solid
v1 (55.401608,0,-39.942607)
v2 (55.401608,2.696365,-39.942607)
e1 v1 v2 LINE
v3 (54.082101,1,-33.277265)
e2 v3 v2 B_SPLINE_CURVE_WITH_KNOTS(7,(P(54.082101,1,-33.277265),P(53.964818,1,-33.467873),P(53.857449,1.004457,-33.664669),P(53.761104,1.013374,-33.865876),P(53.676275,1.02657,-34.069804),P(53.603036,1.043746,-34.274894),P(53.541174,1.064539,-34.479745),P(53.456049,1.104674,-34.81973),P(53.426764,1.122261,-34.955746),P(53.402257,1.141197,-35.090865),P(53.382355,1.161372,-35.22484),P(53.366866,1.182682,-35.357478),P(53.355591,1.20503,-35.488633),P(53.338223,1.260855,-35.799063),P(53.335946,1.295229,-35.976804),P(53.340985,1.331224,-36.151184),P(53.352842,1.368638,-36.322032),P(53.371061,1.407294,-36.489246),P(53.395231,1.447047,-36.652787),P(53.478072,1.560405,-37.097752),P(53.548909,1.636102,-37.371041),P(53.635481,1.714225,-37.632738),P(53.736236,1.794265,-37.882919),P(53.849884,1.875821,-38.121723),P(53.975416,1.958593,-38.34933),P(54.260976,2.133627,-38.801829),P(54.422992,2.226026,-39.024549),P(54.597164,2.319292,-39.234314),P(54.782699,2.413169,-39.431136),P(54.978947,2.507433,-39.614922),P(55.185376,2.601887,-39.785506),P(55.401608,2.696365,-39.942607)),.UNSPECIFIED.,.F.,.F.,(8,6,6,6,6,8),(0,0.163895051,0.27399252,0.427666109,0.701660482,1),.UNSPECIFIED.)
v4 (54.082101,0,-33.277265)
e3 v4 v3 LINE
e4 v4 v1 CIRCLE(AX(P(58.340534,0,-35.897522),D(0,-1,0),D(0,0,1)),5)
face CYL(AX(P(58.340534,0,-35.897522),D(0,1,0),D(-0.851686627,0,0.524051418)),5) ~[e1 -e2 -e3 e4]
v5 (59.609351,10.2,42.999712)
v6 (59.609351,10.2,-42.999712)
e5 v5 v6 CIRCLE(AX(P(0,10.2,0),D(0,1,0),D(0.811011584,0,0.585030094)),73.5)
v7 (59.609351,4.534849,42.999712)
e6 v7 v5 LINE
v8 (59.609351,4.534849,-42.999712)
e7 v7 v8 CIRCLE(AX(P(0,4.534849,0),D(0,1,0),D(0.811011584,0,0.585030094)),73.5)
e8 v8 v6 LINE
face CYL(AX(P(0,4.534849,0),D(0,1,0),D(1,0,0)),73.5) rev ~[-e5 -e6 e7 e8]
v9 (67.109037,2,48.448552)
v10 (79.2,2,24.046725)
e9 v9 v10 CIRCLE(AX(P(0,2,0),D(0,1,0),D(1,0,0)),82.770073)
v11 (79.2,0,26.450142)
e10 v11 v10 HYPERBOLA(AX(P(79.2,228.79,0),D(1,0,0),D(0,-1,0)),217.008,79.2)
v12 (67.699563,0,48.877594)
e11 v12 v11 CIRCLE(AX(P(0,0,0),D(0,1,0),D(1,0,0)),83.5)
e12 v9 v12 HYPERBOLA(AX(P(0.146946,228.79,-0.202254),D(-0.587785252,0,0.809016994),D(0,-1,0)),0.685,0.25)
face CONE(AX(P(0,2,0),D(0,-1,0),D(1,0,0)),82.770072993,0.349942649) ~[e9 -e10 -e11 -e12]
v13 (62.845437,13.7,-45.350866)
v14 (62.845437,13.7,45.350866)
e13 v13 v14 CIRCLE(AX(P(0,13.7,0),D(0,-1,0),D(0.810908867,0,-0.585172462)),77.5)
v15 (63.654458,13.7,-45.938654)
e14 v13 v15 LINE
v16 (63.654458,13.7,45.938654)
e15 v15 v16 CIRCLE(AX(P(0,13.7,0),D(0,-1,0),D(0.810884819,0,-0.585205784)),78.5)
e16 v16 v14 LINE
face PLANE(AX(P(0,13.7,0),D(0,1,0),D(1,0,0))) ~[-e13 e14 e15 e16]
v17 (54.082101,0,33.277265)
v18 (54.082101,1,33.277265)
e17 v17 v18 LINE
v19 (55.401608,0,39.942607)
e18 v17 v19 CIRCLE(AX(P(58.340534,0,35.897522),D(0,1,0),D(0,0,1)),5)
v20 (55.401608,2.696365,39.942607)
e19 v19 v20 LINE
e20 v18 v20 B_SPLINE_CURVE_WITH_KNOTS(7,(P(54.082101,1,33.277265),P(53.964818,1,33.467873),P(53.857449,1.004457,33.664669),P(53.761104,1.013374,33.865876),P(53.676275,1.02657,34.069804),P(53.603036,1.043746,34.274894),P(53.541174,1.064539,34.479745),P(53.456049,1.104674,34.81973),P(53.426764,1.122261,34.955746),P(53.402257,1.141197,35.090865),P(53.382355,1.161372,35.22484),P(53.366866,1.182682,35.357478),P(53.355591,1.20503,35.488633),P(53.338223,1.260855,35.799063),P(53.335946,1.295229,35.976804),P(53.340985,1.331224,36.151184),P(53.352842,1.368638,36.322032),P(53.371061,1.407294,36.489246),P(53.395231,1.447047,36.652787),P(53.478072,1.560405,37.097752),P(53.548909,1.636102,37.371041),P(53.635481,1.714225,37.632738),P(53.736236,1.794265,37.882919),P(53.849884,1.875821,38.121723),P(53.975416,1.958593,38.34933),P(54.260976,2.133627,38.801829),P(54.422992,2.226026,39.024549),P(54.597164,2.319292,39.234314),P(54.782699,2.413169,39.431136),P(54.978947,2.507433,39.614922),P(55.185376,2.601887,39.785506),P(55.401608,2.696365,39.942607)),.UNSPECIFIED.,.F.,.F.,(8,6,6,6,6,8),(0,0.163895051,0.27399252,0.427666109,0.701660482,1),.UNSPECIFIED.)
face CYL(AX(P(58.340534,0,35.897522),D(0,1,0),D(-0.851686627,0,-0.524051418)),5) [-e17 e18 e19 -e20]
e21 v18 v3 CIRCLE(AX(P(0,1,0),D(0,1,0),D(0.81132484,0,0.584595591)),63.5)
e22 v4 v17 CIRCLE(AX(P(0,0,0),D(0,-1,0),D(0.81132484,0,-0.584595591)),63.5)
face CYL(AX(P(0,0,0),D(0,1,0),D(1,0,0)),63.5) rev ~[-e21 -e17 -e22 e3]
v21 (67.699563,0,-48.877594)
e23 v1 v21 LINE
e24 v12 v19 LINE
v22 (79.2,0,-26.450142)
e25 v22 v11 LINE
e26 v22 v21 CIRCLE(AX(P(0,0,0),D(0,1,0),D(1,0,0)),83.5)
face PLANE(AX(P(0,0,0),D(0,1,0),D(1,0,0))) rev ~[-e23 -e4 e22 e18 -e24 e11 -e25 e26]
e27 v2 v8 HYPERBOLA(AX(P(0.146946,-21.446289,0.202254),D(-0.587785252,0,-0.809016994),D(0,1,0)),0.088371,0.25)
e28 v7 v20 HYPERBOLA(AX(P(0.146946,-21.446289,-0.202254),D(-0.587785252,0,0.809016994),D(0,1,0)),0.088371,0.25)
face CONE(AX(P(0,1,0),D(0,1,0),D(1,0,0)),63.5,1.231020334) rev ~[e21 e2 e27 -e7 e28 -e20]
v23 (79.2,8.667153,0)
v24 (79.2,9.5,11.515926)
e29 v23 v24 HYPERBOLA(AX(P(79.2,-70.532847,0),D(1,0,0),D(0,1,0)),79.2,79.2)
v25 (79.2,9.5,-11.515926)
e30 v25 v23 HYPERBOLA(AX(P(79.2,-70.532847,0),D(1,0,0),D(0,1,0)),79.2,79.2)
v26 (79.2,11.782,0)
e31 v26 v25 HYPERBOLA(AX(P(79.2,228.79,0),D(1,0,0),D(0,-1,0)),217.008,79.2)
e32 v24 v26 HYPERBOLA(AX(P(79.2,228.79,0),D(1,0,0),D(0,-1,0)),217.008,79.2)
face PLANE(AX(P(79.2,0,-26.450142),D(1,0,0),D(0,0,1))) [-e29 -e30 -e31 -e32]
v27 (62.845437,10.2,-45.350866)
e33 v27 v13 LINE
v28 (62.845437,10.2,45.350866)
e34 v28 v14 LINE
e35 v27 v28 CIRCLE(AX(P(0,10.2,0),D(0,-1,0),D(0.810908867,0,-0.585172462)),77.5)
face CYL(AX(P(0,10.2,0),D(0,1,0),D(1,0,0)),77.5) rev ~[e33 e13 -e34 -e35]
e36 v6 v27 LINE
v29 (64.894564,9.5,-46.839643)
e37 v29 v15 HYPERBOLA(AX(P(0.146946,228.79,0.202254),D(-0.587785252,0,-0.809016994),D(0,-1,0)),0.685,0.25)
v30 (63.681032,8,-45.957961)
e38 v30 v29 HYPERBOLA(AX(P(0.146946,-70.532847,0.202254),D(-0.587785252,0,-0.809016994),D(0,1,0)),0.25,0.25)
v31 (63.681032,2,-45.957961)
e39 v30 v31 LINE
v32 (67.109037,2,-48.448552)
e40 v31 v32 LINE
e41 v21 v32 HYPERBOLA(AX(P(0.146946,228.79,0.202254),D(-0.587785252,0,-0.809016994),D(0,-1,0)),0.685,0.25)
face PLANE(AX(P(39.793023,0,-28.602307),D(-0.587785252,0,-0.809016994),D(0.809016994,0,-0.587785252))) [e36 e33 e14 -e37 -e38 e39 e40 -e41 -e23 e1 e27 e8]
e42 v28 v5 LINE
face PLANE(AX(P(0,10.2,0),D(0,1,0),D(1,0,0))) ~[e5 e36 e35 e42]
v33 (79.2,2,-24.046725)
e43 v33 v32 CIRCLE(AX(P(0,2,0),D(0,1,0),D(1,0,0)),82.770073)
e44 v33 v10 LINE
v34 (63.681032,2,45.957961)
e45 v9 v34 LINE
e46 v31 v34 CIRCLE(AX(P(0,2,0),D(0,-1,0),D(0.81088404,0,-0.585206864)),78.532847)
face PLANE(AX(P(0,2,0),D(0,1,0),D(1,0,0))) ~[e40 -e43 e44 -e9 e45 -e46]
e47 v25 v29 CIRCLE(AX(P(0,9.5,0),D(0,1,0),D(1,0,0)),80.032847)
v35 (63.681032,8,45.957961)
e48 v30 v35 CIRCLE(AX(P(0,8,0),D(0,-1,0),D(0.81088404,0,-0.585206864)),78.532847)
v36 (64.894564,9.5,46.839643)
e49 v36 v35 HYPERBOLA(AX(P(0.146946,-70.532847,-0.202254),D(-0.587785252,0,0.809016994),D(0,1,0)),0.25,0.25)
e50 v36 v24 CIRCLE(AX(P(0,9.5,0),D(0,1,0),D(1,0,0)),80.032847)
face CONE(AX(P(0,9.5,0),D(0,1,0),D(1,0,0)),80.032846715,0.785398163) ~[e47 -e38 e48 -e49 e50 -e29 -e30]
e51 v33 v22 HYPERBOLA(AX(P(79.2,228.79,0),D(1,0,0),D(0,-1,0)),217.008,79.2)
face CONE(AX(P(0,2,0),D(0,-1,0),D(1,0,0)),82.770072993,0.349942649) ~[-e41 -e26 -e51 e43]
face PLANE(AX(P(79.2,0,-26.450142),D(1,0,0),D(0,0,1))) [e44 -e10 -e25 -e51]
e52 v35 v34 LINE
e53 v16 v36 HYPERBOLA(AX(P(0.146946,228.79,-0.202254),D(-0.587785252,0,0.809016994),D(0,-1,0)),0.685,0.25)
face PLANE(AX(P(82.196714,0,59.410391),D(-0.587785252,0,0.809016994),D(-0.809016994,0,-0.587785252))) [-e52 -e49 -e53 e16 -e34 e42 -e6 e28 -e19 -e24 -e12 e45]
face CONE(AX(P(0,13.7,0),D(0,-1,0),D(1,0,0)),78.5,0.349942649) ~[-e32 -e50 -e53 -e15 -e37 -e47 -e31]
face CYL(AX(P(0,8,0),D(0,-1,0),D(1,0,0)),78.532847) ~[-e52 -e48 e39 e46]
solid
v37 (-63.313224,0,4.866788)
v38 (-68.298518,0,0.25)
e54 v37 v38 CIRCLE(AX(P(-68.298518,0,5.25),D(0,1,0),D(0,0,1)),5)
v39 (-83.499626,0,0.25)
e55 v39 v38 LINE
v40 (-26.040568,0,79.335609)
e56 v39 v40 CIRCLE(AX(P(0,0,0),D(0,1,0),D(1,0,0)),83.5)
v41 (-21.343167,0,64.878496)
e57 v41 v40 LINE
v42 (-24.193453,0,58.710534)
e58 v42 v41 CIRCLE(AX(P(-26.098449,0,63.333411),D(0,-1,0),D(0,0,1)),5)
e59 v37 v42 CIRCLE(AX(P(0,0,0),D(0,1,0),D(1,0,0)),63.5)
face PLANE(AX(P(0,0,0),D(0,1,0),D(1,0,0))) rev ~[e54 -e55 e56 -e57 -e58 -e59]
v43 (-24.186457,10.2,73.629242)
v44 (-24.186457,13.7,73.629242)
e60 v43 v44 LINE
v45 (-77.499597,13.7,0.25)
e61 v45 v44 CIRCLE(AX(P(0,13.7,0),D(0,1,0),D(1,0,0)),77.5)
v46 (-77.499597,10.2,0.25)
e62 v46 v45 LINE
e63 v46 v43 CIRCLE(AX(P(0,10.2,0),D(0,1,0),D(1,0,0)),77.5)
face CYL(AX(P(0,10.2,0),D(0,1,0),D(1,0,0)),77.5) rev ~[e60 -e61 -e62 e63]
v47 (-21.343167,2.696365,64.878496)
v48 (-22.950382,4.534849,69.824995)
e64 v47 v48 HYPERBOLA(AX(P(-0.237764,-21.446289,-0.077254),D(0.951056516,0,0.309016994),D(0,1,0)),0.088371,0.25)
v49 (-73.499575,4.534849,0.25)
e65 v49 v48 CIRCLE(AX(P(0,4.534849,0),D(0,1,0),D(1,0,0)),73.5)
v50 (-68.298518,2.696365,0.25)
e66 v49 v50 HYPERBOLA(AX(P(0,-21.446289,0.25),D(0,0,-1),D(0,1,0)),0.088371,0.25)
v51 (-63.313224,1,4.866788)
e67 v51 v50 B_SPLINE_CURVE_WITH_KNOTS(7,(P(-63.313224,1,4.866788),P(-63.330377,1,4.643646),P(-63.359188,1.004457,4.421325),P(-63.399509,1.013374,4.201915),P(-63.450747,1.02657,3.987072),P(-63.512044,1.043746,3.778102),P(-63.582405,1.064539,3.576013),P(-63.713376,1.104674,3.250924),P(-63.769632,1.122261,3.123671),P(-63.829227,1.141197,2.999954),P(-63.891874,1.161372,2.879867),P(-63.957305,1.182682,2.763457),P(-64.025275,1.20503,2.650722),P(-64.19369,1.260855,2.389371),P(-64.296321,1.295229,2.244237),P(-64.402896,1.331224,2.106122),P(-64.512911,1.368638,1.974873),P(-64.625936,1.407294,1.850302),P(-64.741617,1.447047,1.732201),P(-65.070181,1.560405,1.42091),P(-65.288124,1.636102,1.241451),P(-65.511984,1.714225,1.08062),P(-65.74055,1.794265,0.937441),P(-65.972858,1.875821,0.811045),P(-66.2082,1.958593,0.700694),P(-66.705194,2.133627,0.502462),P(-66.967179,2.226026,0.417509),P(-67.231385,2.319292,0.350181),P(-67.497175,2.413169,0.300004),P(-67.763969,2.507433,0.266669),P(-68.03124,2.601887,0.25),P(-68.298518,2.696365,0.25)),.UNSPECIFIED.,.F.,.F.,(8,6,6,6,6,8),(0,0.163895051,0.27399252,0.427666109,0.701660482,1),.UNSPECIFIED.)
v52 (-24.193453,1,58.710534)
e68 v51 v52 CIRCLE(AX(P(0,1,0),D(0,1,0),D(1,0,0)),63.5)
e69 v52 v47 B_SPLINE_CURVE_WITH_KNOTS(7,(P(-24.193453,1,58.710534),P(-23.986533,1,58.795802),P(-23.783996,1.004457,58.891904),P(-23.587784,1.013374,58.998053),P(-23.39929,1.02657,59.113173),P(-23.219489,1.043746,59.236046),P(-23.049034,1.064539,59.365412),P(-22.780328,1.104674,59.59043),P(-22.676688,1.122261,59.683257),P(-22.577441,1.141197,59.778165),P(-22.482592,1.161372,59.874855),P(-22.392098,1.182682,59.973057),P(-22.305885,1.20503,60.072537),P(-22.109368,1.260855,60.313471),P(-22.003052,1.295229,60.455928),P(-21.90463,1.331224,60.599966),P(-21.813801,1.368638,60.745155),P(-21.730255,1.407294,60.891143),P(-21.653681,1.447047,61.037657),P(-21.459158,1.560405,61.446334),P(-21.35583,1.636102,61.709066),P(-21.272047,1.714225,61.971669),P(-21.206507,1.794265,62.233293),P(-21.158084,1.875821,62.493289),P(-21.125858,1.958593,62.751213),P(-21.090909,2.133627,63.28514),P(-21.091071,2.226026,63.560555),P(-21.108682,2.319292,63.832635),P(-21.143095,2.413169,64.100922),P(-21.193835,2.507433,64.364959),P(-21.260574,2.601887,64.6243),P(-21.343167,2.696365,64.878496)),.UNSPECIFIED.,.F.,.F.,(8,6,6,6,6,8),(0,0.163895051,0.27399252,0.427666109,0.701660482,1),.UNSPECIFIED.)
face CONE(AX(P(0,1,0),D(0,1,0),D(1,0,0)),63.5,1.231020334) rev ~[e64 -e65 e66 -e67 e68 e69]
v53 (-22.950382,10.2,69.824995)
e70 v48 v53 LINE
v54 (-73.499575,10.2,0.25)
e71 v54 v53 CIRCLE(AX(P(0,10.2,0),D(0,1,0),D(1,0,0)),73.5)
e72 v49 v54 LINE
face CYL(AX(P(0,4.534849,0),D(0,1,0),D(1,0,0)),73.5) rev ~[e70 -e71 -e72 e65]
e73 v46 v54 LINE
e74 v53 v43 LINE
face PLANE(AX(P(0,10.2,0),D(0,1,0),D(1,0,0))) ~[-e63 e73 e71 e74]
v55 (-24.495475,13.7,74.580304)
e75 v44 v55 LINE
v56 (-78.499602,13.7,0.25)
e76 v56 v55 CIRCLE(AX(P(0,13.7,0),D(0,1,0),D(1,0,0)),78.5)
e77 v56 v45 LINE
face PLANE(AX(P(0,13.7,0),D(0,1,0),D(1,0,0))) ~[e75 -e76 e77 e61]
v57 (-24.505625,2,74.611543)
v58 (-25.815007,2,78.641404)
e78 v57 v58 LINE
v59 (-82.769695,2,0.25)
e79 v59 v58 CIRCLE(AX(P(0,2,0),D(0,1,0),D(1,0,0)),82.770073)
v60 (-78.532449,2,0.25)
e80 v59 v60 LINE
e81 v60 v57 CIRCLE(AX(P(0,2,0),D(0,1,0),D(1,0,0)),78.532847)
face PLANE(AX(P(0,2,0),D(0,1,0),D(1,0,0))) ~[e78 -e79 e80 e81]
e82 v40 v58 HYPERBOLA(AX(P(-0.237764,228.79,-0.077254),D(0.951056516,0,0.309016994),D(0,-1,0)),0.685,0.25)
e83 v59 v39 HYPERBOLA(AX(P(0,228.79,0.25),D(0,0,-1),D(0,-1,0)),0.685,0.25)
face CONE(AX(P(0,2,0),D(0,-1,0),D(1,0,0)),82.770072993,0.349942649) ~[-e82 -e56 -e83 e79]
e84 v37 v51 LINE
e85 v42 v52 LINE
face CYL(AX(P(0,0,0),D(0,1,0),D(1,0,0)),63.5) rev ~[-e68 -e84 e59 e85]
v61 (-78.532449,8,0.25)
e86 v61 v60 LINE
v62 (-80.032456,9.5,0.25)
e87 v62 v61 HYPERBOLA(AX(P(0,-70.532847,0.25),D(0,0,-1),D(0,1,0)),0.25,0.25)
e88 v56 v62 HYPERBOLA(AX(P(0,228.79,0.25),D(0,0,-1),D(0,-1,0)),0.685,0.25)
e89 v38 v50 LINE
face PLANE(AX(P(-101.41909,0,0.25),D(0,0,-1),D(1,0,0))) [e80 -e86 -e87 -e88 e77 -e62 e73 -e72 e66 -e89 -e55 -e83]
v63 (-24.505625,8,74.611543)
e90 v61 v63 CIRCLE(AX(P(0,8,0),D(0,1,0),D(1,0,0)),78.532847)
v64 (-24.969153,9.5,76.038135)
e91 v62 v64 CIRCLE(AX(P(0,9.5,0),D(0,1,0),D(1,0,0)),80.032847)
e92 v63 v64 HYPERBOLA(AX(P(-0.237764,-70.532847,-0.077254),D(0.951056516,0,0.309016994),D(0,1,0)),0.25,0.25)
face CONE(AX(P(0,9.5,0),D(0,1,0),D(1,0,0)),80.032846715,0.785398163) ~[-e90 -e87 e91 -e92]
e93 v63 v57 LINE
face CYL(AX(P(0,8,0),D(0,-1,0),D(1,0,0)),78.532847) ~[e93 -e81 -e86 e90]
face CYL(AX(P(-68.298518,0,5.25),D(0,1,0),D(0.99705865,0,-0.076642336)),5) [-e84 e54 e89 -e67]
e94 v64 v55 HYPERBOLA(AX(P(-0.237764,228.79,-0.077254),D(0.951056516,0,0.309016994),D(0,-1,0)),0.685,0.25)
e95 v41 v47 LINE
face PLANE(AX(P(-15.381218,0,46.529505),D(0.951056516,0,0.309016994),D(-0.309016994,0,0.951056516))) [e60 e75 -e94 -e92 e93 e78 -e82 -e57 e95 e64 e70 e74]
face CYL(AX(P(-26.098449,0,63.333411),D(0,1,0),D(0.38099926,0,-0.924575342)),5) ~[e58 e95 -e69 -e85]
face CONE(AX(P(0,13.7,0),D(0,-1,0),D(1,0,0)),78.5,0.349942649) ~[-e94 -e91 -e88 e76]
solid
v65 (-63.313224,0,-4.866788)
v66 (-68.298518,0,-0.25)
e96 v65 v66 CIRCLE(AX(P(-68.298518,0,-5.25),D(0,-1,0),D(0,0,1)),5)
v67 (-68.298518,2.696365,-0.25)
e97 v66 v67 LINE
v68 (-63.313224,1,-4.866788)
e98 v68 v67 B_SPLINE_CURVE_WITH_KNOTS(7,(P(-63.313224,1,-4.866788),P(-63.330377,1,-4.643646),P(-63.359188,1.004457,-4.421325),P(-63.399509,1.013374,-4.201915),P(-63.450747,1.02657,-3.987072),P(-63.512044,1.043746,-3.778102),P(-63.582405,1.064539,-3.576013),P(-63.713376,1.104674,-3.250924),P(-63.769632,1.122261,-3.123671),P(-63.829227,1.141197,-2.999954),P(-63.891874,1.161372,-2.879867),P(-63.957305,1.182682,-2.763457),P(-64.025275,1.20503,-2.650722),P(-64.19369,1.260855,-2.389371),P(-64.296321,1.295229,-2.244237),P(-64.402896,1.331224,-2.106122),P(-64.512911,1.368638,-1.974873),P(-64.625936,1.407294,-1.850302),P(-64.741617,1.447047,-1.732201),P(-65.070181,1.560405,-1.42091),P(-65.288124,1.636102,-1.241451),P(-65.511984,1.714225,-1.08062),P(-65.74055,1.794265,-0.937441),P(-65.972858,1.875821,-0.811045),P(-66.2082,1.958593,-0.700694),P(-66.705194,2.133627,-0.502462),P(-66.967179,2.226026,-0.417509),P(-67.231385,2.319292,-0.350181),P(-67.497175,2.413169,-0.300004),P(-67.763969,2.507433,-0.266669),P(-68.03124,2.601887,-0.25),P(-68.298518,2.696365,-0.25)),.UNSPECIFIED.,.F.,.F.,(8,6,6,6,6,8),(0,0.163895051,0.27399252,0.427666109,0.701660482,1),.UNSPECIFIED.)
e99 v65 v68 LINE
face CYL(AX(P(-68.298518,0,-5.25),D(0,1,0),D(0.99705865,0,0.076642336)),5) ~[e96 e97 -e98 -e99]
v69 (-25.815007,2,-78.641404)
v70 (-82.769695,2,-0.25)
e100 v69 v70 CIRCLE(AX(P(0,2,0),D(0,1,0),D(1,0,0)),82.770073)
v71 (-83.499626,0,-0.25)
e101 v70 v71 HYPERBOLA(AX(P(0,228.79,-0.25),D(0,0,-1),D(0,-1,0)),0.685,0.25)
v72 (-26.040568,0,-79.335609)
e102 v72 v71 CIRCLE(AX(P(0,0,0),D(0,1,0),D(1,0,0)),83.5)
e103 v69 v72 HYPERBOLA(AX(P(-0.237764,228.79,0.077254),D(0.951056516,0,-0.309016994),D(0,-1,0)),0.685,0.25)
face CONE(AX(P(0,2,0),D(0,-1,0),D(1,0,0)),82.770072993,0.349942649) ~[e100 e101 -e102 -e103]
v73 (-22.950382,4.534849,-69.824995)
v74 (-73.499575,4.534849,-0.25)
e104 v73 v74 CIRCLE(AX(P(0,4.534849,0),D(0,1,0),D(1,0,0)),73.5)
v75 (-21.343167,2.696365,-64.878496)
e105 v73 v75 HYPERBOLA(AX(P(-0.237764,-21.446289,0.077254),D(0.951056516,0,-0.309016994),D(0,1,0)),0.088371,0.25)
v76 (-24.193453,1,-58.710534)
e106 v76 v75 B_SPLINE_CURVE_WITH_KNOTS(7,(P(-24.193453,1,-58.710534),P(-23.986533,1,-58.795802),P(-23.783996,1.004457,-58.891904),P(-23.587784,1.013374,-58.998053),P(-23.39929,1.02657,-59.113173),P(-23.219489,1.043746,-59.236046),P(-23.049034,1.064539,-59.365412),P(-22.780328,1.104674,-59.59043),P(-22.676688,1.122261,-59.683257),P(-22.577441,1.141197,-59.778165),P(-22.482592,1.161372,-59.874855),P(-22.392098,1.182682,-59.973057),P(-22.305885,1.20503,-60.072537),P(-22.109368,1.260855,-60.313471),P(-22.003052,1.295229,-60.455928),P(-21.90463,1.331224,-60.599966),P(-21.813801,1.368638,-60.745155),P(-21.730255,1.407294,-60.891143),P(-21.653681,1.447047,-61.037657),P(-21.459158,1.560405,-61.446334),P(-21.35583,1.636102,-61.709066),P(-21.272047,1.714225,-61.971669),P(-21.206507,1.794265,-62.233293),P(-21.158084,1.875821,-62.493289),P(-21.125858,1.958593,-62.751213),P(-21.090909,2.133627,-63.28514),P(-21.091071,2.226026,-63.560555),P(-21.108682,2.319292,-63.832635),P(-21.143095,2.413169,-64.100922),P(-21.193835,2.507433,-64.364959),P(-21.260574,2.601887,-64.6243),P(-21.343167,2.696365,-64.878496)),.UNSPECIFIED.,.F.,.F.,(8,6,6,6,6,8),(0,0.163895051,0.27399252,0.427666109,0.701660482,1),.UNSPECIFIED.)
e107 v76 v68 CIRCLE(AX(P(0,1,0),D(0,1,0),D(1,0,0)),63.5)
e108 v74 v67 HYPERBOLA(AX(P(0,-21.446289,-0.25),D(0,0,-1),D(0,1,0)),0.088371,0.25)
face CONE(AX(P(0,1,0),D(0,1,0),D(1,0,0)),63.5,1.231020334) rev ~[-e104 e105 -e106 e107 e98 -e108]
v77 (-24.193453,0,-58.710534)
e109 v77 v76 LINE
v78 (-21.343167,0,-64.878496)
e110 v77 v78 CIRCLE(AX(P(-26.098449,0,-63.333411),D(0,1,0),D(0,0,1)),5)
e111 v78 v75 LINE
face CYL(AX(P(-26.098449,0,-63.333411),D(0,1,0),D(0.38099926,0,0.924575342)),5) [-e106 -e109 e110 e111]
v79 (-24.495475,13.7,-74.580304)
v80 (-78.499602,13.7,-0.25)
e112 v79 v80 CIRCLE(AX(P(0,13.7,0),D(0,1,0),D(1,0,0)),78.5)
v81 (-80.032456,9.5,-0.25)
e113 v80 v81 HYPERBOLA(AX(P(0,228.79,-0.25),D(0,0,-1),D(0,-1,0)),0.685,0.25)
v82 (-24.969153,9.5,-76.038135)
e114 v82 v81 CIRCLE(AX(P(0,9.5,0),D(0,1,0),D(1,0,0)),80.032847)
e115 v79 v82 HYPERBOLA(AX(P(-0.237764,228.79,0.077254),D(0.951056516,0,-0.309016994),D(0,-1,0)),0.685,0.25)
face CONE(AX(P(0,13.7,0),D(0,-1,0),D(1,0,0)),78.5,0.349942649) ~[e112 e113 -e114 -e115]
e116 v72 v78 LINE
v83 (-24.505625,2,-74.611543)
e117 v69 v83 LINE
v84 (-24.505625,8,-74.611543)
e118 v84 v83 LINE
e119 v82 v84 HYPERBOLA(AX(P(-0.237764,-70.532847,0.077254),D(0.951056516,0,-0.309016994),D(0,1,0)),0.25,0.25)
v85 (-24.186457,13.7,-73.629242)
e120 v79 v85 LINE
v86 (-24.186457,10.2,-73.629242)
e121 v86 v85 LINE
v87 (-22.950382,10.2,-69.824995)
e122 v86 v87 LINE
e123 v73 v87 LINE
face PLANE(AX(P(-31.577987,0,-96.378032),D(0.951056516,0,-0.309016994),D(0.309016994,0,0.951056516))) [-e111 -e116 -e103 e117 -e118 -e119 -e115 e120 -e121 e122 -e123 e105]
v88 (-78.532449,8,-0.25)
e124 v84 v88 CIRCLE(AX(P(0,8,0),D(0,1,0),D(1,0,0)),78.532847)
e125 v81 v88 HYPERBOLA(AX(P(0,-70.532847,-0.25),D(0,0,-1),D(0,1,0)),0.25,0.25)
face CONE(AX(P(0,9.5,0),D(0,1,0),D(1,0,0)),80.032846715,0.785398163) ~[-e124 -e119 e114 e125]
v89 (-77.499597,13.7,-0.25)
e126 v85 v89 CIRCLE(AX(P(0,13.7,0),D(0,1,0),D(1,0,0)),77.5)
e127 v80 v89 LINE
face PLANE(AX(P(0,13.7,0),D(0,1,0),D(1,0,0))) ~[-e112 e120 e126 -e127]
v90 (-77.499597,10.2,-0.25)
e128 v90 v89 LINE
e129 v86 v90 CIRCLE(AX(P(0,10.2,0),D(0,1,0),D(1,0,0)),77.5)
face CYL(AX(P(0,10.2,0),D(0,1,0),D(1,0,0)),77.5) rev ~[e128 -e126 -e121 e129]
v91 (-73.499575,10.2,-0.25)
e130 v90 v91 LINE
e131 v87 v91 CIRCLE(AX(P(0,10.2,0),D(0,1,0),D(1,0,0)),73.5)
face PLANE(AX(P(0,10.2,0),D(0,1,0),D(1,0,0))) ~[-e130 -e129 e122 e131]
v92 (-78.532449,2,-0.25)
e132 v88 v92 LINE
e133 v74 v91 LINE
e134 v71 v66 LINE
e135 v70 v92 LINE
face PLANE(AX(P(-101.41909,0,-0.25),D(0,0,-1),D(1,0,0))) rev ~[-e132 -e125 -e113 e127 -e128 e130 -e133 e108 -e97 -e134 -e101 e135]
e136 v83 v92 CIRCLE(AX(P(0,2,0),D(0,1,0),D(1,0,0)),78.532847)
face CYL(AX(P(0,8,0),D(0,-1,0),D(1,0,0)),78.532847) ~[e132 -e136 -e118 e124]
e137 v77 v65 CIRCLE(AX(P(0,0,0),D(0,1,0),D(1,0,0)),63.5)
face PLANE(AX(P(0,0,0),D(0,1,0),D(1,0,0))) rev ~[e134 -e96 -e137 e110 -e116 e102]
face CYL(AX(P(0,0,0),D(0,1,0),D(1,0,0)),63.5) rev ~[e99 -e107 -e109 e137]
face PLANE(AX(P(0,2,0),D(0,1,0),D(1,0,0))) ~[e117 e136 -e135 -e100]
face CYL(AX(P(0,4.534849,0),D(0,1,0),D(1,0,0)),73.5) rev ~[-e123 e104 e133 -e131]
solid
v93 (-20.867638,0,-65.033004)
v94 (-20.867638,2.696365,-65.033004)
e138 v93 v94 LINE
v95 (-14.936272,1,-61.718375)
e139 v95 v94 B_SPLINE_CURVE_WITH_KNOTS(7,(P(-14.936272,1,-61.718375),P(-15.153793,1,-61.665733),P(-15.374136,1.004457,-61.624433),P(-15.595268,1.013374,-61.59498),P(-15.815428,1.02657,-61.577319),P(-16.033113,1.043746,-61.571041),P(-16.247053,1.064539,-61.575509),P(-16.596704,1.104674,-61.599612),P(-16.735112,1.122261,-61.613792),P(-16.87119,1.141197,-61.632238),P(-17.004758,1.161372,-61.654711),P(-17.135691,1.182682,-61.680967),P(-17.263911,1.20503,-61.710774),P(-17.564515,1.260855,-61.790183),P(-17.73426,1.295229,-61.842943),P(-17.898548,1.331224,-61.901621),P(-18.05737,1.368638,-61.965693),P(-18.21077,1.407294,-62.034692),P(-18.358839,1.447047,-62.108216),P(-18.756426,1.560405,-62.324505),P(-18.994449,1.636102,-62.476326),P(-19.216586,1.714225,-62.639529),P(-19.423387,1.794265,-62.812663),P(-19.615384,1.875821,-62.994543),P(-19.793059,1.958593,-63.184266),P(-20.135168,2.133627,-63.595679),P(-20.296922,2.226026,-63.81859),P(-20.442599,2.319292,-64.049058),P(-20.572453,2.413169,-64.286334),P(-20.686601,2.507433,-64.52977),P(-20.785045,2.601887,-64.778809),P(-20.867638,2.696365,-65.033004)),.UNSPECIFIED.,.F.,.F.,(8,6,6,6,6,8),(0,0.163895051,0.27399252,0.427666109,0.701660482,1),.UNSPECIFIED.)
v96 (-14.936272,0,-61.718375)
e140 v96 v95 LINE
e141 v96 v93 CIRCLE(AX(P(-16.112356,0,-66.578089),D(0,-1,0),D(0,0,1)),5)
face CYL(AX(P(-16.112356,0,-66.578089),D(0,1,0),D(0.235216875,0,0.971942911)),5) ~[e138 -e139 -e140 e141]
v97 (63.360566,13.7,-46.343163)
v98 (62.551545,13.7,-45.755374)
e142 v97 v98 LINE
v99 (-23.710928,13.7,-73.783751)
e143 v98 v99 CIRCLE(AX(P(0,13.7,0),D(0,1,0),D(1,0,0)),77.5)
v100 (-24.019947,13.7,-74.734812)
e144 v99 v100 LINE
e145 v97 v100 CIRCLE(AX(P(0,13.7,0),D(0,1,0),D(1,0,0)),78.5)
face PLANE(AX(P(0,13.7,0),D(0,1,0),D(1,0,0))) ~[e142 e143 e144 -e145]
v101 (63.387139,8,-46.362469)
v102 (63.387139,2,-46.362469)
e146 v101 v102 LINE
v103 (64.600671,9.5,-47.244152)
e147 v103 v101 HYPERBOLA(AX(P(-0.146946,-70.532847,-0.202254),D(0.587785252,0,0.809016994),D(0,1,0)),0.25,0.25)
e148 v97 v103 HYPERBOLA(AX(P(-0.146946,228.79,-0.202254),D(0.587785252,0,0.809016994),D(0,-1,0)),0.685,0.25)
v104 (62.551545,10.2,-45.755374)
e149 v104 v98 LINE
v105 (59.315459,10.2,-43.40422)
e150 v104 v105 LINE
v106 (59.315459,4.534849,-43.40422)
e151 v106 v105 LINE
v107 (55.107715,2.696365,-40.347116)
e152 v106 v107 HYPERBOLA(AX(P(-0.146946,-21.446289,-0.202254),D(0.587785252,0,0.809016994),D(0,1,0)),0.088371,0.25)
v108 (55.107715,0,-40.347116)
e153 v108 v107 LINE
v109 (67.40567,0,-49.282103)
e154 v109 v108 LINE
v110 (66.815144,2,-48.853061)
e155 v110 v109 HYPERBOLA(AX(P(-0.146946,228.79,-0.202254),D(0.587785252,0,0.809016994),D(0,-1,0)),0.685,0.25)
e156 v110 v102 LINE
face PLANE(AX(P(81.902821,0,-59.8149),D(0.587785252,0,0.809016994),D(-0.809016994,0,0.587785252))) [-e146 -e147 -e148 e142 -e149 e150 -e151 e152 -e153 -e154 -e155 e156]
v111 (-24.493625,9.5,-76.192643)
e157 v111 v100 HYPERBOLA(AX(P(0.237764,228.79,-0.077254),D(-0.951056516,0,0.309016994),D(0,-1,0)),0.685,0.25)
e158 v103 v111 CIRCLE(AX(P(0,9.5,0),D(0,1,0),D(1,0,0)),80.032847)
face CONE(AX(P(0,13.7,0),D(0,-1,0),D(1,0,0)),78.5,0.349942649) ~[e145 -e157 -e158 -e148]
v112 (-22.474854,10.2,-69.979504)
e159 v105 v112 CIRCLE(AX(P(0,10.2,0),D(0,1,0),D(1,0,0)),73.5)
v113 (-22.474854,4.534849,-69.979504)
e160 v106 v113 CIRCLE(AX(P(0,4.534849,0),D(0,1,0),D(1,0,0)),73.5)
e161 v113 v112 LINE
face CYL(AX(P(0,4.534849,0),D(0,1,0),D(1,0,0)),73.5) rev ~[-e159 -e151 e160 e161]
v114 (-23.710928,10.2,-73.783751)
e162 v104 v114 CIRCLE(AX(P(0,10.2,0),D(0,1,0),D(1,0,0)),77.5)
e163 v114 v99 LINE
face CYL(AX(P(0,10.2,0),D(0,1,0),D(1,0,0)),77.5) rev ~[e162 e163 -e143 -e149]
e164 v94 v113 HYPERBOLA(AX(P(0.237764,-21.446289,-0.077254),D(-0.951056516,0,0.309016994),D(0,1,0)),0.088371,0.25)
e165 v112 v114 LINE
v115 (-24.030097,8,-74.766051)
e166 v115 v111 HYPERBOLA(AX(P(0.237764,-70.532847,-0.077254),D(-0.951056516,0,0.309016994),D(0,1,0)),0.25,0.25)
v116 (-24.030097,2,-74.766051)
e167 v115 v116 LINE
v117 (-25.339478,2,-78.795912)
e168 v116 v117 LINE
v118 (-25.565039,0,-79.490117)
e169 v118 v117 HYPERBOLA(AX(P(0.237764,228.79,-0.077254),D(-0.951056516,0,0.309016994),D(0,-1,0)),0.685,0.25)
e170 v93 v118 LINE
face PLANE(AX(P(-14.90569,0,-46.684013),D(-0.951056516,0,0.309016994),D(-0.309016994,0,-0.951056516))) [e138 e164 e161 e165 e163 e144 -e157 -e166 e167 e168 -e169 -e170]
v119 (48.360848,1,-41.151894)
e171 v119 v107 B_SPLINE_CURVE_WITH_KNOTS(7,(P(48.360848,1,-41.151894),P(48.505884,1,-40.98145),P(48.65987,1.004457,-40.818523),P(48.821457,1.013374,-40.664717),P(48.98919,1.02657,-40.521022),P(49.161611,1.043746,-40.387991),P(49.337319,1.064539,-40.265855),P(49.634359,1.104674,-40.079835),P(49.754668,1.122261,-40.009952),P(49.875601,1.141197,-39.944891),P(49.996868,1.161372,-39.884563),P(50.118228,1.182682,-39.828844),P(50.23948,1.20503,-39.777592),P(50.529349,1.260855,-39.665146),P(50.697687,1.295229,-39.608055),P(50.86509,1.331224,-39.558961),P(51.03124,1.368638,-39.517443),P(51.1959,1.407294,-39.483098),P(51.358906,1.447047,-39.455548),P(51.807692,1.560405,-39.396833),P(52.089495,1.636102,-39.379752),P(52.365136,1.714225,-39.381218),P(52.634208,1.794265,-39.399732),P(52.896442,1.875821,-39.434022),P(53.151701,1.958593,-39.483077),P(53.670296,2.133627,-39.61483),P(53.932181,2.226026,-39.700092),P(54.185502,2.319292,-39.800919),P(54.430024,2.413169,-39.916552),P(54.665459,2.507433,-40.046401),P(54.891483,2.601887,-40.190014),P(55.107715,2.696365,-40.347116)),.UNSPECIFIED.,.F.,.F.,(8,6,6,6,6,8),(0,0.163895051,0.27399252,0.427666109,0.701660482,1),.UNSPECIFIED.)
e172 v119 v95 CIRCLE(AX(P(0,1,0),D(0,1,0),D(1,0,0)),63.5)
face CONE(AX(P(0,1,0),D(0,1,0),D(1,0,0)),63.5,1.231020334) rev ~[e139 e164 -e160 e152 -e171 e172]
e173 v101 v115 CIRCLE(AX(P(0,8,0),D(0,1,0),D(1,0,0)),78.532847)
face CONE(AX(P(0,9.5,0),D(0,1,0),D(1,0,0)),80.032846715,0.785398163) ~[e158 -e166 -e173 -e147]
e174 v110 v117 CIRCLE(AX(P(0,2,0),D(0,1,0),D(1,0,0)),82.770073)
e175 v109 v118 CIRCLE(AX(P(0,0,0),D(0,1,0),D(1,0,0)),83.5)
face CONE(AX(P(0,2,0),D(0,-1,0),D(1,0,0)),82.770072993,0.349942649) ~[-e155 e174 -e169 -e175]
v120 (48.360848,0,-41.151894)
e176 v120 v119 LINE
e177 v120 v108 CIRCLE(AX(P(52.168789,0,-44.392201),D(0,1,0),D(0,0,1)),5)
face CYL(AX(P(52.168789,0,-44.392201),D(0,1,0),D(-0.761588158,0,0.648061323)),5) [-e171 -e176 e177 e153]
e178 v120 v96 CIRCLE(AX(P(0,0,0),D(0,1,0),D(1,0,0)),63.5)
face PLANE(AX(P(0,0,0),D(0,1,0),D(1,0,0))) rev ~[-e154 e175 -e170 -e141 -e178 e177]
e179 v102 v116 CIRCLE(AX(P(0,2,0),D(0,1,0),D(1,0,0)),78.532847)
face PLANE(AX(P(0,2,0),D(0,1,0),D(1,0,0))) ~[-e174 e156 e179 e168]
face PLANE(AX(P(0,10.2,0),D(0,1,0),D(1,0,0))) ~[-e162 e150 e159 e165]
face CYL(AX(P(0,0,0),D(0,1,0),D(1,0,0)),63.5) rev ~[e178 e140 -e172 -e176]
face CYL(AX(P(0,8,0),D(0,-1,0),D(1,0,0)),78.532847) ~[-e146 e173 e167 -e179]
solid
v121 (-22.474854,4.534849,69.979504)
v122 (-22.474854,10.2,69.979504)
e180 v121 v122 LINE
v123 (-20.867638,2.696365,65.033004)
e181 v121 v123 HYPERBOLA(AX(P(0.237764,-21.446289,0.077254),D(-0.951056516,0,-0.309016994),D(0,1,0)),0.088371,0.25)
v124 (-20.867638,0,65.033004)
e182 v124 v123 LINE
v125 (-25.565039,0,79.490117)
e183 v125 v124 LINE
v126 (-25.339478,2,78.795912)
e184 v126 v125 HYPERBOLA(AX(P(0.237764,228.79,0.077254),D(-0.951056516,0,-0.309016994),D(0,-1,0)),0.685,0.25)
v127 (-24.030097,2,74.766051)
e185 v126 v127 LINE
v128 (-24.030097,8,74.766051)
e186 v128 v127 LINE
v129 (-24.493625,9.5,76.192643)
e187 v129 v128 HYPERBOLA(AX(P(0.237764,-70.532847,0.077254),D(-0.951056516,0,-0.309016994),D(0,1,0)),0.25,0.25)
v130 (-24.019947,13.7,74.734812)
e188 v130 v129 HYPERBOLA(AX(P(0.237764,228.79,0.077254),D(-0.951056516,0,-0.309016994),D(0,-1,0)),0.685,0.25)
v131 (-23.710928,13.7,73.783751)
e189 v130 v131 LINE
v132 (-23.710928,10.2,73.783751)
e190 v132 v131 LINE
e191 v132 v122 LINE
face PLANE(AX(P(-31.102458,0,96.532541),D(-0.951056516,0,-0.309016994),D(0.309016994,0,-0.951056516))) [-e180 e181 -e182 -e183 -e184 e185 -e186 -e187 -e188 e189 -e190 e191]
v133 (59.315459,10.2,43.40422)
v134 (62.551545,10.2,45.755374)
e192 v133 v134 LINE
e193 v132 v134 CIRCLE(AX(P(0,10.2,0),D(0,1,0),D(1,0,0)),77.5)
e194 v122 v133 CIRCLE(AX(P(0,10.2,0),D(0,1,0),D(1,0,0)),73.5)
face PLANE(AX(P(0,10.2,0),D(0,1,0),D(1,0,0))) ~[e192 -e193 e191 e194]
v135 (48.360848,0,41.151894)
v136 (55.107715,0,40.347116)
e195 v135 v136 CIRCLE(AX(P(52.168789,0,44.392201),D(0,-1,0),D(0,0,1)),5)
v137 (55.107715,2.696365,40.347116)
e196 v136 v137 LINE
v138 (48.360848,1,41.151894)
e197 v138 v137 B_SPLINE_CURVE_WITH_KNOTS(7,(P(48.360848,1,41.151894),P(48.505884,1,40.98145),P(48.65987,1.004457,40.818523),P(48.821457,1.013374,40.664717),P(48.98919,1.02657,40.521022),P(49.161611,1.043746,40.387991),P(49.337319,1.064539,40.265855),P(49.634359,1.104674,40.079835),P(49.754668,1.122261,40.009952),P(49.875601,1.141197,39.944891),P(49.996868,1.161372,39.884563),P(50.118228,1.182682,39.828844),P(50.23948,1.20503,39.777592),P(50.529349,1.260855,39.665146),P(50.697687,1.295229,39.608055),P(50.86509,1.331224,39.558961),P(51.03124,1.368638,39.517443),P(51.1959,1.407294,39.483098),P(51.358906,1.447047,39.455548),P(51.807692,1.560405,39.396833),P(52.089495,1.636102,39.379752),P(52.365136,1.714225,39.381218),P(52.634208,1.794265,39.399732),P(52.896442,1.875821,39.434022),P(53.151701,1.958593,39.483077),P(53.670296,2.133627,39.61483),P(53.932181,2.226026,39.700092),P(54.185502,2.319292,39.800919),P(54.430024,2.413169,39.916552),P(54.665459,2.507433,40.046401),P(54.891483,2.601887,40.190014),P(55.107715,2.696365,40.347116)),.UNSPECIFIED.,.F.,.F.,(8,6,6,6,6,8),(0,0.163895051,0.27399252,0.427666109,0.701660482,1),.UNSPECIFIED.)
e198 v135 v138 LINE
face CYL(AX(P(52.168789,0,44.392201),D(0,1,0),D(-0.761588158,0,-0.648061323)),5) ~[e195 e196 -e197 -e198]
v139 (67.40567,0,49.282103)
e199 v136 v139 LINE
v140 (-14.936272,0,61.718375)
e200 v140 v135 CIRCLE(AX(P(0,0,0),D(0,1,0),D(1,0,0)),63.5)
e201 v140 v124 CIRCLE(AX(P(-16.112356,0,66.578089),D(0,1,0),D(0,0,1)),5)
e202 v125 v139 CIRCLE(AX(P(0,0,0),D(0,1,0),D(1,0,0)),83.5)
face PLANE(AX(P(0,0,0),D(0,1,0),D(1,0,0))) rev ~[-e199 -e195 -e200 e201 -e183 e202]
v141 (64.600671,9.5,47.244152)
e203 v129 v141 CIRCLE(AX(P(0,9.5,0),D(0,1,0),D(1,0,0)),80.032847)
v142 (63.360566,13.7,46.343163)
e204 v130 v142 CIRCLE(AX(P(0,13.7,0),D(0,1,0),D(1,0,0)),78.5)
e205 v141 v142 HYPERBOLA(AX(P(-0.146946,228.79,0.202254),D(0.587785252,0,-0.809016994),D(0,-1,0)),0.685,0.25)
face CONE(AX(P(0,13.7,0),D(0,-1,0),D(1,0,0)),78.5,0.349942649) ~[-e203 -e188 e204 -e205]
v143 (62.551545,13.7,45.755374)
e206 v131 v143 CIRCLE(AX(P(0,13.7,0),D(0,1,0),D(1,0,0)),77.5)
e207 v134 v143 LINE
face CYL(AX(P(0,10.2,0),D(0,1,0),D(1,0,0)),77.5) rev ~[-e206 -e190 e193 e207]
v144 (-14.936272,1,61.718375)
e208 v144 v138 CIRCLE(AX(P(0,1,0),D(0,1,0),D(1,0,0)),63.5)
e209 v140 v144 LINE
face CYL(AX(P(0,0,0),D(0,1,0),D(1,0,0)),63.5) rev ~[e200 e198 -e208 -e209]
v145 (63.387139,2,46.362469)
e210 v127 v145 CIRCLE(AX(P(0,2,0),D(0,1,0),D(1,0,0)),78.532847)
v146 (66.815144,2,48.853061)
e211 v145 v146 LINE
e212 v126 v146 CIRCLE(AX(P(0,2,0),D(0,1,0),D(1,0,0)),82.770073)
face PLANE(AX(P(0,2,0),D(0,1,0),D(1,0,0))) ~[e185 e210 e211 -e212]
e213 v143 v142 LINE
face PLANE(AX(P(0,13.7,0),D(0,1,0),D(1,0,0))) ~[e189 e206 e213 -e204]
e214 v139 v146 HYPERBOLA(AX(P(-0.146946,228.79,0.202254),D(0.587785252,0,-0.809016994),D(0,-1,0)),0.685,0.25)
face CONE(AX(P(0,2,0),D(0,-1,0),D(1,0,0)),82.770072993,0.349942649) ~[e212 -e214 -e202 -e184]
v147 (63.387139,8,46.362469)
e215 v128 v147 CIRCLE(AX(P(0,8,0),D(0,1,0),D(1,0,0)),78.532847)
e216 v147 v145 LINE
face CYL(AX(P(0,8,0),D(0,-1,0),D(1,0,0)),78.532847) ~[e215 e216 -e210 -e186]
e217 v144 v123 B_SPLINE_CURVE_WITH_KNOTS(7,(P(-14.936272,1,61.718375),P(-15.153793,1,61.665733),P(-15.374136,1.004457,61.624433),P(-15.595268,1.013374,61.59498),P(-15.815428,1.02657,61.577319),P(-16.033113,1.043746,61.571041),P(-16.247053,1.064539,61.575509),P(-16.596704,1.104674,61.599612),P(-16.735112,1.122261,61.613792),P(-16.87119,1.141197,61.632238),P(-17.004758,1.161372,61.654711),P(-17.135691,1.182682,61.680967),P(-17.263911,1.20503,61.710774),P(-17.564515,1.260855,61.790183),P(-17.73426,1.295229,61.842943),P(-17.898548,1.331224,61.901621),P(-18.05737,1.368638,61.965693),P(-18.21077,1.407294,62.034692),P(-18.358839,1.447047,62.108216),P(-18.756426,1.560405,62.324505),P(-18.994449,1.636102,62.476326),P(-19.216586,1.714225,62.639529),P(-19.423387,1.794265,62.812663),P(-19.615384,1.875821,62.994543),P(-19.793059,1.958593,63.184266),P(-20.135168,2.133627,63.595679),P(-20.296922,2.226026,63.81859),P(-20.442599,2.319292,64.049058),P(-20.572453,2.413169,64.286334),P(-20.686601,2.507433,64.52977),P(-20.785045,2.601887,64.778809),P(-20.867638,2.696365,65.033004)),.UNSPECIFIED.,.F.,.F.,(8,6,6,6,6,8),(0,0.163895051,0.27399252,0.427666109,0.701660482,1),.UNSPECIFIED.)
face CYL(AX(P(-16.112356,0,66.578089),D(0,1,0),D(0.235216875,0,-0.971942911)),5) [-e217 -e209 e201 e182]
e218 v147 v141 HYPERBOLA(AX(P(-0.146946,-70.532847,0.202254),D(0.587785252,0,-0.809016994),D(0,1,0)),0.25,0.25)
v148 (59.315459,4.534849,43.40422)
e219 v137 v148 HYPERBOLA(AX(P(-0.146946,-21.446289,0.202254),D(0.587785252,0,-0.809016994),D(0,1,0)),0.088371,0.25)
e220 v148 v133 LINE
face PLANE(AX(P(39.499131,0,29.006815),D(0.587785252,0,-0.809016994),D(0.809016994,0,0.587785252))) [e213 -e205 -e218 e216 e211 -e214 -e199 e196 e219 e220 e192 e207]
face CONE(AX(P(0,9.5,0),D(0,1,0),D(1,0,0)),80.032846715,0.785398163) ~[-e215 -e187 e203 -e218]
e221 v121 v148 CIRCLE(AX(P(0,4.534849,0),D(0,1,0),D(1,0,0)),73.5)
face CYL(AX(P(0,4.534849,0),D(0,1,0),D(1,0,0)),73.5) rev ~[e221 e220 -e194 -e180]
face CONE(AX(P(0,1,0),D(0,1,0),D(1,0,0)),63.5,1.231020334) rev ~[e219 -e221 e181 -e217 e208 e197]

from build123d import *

# Parameters (mm, degrees)
CUT_EXTRUDE1_DEPTH      = 14.7
SKETCH4_W               = 52.41384378
SKETCH4_H               = 0.5
CUT_EXTRUDE3_DEPTH      = 14.7
CUT_EXTRUDE3_DEPTH_BACK = 1
FILLET2_R               = 5
FILLET3_R               = 5
FILLET4_R               = 5
FILLET5_R               = 5
FILLET6_R               = 5


with BuildPart() as part:
    # Sketch1 → Revolve1 (revolve)
    with BuildSketch(Plane.XY):
        Polygon((63.5, 0), (63.5, 1), (73.5, 4.53484861), (73.5, 10.2), (77.5, 10.2), (77.5, 13.7), (78.5, 13.7), (80.032846715, 9.5), (78.532846715, 8), (78.532846715, 2), (82.770072993, 2), (83.5, 0), align=None)
    revolve(axis=Axis((0, 0, 0), (0, 1, 0)))

    # Sketch2 → Cut-Extrude1 (cut, through all)
    with BuildSketch(Plane(origin=(0, 0, 0), x_dir=(1, 0, 0), z_dir=(0, 1, 0))):
        with BuildLine():
            Line((79.2, 26.450141777), (79.2, -26.450141777))
            ThreePointArc((79.2, -26.450141777), (83.5, 0), (79.2, 26.450141777))
        make_face()
    extrude(amount=CUT_EXTRUDE1_DEPTH, mode=Mode.SUBTRACT)

    # Sketch4 → Cut-Extrude3 (cut, two sides)
    with BuildSketch(Plane(origin=(0, 0, 0), x_dir=(1, 0, 0), z_dir=(0, 1, 0))) as cut_extrude3_sk:
        Polygon((-31.102458296, 96.532540857), (-31.577986554, 96.378032359), (-15.381218085, 46.529504688), (-14.905689827, 46.684013185), align=None)
        with Locations((-75.212168306, 0)):
            Rectangle(SKETCH4_W, SKETCH4_H)
        Polygon((82.196713836, 59.41039127), (81.90282121, 59.814899767), (39.499130851, 29.006815377), (39.793023477, 28.60230688), align=None)
        Polygon((81.90282121, -59.814899767), (82.196713836, -59.41039127), (39.793023477, -28.60230688), (39.499130851, -29.006815377), align=None)
        Polygon((-31.577986554, -96.378032359), (-31.102458296, -96.532540857), (-14.905689827, -46.684013185), (-15.381218085, -46.529504688), align=None)
    extrude(amount=CUT_EXTRUDE3_DEPTH, mode=Mode.SUBTRACT)
    extrude(cut_extrude3_sk.sketch, amount=-CUT_EXTRUDE3_DEPTH_BACK, mode=Mode.SUBTRACT)

    # Fillet2
    fillet2_edges = [part.edges().sort_by_distance(p)[0] for p in [
        (-19.860191196, 0.5, -60.314366495),
        (-63.499507872, 0.5, -0.25),
    ]]
    fillet(fillet2_edges, radius=FILLET2_R)

    # Fillet3
    fillet3_edges = [part.edges().sort_by_distance(p)[0] for p in [
        (-19.860191196, 0.5, 60.314366495),
        (-63.499507872, 0.5, 0.25),
    ]]
    fillet(fillet3_edges, radius=FILLET3_R)

    # Fillet4
    fillet4_edges = [part.edges().sort_by_distance(p)[0] for p in [
        (51.22523469, 0.5, 37.526328504),
        (-19.384662938, 0.5, 60.468874992),
    ]]
    fillet(fillet4_edges, radius=FILLET4_R)

    # Fillet5
    fillet5_edges = [part.edges().sort_by_distance(p)[0] for p in [
        (51.519127316, 0.5, -37.121820006),
        (51.519127316, 0.5, 37.121820006),
    ]]
    fillet(fillet5_edges, radius=FILLET5_R)

    # Fillet6
    fillet6_edges = [part.edges().sort_by_distance(p)[0] for p in [
        (51.22523469, 0.5, -37.526328504),
        (-19.384662938, 0.5, -60.468874992),
    ]]
    fillet(fillet6_edges, radius=FILLET6_R)


solid = part.part
